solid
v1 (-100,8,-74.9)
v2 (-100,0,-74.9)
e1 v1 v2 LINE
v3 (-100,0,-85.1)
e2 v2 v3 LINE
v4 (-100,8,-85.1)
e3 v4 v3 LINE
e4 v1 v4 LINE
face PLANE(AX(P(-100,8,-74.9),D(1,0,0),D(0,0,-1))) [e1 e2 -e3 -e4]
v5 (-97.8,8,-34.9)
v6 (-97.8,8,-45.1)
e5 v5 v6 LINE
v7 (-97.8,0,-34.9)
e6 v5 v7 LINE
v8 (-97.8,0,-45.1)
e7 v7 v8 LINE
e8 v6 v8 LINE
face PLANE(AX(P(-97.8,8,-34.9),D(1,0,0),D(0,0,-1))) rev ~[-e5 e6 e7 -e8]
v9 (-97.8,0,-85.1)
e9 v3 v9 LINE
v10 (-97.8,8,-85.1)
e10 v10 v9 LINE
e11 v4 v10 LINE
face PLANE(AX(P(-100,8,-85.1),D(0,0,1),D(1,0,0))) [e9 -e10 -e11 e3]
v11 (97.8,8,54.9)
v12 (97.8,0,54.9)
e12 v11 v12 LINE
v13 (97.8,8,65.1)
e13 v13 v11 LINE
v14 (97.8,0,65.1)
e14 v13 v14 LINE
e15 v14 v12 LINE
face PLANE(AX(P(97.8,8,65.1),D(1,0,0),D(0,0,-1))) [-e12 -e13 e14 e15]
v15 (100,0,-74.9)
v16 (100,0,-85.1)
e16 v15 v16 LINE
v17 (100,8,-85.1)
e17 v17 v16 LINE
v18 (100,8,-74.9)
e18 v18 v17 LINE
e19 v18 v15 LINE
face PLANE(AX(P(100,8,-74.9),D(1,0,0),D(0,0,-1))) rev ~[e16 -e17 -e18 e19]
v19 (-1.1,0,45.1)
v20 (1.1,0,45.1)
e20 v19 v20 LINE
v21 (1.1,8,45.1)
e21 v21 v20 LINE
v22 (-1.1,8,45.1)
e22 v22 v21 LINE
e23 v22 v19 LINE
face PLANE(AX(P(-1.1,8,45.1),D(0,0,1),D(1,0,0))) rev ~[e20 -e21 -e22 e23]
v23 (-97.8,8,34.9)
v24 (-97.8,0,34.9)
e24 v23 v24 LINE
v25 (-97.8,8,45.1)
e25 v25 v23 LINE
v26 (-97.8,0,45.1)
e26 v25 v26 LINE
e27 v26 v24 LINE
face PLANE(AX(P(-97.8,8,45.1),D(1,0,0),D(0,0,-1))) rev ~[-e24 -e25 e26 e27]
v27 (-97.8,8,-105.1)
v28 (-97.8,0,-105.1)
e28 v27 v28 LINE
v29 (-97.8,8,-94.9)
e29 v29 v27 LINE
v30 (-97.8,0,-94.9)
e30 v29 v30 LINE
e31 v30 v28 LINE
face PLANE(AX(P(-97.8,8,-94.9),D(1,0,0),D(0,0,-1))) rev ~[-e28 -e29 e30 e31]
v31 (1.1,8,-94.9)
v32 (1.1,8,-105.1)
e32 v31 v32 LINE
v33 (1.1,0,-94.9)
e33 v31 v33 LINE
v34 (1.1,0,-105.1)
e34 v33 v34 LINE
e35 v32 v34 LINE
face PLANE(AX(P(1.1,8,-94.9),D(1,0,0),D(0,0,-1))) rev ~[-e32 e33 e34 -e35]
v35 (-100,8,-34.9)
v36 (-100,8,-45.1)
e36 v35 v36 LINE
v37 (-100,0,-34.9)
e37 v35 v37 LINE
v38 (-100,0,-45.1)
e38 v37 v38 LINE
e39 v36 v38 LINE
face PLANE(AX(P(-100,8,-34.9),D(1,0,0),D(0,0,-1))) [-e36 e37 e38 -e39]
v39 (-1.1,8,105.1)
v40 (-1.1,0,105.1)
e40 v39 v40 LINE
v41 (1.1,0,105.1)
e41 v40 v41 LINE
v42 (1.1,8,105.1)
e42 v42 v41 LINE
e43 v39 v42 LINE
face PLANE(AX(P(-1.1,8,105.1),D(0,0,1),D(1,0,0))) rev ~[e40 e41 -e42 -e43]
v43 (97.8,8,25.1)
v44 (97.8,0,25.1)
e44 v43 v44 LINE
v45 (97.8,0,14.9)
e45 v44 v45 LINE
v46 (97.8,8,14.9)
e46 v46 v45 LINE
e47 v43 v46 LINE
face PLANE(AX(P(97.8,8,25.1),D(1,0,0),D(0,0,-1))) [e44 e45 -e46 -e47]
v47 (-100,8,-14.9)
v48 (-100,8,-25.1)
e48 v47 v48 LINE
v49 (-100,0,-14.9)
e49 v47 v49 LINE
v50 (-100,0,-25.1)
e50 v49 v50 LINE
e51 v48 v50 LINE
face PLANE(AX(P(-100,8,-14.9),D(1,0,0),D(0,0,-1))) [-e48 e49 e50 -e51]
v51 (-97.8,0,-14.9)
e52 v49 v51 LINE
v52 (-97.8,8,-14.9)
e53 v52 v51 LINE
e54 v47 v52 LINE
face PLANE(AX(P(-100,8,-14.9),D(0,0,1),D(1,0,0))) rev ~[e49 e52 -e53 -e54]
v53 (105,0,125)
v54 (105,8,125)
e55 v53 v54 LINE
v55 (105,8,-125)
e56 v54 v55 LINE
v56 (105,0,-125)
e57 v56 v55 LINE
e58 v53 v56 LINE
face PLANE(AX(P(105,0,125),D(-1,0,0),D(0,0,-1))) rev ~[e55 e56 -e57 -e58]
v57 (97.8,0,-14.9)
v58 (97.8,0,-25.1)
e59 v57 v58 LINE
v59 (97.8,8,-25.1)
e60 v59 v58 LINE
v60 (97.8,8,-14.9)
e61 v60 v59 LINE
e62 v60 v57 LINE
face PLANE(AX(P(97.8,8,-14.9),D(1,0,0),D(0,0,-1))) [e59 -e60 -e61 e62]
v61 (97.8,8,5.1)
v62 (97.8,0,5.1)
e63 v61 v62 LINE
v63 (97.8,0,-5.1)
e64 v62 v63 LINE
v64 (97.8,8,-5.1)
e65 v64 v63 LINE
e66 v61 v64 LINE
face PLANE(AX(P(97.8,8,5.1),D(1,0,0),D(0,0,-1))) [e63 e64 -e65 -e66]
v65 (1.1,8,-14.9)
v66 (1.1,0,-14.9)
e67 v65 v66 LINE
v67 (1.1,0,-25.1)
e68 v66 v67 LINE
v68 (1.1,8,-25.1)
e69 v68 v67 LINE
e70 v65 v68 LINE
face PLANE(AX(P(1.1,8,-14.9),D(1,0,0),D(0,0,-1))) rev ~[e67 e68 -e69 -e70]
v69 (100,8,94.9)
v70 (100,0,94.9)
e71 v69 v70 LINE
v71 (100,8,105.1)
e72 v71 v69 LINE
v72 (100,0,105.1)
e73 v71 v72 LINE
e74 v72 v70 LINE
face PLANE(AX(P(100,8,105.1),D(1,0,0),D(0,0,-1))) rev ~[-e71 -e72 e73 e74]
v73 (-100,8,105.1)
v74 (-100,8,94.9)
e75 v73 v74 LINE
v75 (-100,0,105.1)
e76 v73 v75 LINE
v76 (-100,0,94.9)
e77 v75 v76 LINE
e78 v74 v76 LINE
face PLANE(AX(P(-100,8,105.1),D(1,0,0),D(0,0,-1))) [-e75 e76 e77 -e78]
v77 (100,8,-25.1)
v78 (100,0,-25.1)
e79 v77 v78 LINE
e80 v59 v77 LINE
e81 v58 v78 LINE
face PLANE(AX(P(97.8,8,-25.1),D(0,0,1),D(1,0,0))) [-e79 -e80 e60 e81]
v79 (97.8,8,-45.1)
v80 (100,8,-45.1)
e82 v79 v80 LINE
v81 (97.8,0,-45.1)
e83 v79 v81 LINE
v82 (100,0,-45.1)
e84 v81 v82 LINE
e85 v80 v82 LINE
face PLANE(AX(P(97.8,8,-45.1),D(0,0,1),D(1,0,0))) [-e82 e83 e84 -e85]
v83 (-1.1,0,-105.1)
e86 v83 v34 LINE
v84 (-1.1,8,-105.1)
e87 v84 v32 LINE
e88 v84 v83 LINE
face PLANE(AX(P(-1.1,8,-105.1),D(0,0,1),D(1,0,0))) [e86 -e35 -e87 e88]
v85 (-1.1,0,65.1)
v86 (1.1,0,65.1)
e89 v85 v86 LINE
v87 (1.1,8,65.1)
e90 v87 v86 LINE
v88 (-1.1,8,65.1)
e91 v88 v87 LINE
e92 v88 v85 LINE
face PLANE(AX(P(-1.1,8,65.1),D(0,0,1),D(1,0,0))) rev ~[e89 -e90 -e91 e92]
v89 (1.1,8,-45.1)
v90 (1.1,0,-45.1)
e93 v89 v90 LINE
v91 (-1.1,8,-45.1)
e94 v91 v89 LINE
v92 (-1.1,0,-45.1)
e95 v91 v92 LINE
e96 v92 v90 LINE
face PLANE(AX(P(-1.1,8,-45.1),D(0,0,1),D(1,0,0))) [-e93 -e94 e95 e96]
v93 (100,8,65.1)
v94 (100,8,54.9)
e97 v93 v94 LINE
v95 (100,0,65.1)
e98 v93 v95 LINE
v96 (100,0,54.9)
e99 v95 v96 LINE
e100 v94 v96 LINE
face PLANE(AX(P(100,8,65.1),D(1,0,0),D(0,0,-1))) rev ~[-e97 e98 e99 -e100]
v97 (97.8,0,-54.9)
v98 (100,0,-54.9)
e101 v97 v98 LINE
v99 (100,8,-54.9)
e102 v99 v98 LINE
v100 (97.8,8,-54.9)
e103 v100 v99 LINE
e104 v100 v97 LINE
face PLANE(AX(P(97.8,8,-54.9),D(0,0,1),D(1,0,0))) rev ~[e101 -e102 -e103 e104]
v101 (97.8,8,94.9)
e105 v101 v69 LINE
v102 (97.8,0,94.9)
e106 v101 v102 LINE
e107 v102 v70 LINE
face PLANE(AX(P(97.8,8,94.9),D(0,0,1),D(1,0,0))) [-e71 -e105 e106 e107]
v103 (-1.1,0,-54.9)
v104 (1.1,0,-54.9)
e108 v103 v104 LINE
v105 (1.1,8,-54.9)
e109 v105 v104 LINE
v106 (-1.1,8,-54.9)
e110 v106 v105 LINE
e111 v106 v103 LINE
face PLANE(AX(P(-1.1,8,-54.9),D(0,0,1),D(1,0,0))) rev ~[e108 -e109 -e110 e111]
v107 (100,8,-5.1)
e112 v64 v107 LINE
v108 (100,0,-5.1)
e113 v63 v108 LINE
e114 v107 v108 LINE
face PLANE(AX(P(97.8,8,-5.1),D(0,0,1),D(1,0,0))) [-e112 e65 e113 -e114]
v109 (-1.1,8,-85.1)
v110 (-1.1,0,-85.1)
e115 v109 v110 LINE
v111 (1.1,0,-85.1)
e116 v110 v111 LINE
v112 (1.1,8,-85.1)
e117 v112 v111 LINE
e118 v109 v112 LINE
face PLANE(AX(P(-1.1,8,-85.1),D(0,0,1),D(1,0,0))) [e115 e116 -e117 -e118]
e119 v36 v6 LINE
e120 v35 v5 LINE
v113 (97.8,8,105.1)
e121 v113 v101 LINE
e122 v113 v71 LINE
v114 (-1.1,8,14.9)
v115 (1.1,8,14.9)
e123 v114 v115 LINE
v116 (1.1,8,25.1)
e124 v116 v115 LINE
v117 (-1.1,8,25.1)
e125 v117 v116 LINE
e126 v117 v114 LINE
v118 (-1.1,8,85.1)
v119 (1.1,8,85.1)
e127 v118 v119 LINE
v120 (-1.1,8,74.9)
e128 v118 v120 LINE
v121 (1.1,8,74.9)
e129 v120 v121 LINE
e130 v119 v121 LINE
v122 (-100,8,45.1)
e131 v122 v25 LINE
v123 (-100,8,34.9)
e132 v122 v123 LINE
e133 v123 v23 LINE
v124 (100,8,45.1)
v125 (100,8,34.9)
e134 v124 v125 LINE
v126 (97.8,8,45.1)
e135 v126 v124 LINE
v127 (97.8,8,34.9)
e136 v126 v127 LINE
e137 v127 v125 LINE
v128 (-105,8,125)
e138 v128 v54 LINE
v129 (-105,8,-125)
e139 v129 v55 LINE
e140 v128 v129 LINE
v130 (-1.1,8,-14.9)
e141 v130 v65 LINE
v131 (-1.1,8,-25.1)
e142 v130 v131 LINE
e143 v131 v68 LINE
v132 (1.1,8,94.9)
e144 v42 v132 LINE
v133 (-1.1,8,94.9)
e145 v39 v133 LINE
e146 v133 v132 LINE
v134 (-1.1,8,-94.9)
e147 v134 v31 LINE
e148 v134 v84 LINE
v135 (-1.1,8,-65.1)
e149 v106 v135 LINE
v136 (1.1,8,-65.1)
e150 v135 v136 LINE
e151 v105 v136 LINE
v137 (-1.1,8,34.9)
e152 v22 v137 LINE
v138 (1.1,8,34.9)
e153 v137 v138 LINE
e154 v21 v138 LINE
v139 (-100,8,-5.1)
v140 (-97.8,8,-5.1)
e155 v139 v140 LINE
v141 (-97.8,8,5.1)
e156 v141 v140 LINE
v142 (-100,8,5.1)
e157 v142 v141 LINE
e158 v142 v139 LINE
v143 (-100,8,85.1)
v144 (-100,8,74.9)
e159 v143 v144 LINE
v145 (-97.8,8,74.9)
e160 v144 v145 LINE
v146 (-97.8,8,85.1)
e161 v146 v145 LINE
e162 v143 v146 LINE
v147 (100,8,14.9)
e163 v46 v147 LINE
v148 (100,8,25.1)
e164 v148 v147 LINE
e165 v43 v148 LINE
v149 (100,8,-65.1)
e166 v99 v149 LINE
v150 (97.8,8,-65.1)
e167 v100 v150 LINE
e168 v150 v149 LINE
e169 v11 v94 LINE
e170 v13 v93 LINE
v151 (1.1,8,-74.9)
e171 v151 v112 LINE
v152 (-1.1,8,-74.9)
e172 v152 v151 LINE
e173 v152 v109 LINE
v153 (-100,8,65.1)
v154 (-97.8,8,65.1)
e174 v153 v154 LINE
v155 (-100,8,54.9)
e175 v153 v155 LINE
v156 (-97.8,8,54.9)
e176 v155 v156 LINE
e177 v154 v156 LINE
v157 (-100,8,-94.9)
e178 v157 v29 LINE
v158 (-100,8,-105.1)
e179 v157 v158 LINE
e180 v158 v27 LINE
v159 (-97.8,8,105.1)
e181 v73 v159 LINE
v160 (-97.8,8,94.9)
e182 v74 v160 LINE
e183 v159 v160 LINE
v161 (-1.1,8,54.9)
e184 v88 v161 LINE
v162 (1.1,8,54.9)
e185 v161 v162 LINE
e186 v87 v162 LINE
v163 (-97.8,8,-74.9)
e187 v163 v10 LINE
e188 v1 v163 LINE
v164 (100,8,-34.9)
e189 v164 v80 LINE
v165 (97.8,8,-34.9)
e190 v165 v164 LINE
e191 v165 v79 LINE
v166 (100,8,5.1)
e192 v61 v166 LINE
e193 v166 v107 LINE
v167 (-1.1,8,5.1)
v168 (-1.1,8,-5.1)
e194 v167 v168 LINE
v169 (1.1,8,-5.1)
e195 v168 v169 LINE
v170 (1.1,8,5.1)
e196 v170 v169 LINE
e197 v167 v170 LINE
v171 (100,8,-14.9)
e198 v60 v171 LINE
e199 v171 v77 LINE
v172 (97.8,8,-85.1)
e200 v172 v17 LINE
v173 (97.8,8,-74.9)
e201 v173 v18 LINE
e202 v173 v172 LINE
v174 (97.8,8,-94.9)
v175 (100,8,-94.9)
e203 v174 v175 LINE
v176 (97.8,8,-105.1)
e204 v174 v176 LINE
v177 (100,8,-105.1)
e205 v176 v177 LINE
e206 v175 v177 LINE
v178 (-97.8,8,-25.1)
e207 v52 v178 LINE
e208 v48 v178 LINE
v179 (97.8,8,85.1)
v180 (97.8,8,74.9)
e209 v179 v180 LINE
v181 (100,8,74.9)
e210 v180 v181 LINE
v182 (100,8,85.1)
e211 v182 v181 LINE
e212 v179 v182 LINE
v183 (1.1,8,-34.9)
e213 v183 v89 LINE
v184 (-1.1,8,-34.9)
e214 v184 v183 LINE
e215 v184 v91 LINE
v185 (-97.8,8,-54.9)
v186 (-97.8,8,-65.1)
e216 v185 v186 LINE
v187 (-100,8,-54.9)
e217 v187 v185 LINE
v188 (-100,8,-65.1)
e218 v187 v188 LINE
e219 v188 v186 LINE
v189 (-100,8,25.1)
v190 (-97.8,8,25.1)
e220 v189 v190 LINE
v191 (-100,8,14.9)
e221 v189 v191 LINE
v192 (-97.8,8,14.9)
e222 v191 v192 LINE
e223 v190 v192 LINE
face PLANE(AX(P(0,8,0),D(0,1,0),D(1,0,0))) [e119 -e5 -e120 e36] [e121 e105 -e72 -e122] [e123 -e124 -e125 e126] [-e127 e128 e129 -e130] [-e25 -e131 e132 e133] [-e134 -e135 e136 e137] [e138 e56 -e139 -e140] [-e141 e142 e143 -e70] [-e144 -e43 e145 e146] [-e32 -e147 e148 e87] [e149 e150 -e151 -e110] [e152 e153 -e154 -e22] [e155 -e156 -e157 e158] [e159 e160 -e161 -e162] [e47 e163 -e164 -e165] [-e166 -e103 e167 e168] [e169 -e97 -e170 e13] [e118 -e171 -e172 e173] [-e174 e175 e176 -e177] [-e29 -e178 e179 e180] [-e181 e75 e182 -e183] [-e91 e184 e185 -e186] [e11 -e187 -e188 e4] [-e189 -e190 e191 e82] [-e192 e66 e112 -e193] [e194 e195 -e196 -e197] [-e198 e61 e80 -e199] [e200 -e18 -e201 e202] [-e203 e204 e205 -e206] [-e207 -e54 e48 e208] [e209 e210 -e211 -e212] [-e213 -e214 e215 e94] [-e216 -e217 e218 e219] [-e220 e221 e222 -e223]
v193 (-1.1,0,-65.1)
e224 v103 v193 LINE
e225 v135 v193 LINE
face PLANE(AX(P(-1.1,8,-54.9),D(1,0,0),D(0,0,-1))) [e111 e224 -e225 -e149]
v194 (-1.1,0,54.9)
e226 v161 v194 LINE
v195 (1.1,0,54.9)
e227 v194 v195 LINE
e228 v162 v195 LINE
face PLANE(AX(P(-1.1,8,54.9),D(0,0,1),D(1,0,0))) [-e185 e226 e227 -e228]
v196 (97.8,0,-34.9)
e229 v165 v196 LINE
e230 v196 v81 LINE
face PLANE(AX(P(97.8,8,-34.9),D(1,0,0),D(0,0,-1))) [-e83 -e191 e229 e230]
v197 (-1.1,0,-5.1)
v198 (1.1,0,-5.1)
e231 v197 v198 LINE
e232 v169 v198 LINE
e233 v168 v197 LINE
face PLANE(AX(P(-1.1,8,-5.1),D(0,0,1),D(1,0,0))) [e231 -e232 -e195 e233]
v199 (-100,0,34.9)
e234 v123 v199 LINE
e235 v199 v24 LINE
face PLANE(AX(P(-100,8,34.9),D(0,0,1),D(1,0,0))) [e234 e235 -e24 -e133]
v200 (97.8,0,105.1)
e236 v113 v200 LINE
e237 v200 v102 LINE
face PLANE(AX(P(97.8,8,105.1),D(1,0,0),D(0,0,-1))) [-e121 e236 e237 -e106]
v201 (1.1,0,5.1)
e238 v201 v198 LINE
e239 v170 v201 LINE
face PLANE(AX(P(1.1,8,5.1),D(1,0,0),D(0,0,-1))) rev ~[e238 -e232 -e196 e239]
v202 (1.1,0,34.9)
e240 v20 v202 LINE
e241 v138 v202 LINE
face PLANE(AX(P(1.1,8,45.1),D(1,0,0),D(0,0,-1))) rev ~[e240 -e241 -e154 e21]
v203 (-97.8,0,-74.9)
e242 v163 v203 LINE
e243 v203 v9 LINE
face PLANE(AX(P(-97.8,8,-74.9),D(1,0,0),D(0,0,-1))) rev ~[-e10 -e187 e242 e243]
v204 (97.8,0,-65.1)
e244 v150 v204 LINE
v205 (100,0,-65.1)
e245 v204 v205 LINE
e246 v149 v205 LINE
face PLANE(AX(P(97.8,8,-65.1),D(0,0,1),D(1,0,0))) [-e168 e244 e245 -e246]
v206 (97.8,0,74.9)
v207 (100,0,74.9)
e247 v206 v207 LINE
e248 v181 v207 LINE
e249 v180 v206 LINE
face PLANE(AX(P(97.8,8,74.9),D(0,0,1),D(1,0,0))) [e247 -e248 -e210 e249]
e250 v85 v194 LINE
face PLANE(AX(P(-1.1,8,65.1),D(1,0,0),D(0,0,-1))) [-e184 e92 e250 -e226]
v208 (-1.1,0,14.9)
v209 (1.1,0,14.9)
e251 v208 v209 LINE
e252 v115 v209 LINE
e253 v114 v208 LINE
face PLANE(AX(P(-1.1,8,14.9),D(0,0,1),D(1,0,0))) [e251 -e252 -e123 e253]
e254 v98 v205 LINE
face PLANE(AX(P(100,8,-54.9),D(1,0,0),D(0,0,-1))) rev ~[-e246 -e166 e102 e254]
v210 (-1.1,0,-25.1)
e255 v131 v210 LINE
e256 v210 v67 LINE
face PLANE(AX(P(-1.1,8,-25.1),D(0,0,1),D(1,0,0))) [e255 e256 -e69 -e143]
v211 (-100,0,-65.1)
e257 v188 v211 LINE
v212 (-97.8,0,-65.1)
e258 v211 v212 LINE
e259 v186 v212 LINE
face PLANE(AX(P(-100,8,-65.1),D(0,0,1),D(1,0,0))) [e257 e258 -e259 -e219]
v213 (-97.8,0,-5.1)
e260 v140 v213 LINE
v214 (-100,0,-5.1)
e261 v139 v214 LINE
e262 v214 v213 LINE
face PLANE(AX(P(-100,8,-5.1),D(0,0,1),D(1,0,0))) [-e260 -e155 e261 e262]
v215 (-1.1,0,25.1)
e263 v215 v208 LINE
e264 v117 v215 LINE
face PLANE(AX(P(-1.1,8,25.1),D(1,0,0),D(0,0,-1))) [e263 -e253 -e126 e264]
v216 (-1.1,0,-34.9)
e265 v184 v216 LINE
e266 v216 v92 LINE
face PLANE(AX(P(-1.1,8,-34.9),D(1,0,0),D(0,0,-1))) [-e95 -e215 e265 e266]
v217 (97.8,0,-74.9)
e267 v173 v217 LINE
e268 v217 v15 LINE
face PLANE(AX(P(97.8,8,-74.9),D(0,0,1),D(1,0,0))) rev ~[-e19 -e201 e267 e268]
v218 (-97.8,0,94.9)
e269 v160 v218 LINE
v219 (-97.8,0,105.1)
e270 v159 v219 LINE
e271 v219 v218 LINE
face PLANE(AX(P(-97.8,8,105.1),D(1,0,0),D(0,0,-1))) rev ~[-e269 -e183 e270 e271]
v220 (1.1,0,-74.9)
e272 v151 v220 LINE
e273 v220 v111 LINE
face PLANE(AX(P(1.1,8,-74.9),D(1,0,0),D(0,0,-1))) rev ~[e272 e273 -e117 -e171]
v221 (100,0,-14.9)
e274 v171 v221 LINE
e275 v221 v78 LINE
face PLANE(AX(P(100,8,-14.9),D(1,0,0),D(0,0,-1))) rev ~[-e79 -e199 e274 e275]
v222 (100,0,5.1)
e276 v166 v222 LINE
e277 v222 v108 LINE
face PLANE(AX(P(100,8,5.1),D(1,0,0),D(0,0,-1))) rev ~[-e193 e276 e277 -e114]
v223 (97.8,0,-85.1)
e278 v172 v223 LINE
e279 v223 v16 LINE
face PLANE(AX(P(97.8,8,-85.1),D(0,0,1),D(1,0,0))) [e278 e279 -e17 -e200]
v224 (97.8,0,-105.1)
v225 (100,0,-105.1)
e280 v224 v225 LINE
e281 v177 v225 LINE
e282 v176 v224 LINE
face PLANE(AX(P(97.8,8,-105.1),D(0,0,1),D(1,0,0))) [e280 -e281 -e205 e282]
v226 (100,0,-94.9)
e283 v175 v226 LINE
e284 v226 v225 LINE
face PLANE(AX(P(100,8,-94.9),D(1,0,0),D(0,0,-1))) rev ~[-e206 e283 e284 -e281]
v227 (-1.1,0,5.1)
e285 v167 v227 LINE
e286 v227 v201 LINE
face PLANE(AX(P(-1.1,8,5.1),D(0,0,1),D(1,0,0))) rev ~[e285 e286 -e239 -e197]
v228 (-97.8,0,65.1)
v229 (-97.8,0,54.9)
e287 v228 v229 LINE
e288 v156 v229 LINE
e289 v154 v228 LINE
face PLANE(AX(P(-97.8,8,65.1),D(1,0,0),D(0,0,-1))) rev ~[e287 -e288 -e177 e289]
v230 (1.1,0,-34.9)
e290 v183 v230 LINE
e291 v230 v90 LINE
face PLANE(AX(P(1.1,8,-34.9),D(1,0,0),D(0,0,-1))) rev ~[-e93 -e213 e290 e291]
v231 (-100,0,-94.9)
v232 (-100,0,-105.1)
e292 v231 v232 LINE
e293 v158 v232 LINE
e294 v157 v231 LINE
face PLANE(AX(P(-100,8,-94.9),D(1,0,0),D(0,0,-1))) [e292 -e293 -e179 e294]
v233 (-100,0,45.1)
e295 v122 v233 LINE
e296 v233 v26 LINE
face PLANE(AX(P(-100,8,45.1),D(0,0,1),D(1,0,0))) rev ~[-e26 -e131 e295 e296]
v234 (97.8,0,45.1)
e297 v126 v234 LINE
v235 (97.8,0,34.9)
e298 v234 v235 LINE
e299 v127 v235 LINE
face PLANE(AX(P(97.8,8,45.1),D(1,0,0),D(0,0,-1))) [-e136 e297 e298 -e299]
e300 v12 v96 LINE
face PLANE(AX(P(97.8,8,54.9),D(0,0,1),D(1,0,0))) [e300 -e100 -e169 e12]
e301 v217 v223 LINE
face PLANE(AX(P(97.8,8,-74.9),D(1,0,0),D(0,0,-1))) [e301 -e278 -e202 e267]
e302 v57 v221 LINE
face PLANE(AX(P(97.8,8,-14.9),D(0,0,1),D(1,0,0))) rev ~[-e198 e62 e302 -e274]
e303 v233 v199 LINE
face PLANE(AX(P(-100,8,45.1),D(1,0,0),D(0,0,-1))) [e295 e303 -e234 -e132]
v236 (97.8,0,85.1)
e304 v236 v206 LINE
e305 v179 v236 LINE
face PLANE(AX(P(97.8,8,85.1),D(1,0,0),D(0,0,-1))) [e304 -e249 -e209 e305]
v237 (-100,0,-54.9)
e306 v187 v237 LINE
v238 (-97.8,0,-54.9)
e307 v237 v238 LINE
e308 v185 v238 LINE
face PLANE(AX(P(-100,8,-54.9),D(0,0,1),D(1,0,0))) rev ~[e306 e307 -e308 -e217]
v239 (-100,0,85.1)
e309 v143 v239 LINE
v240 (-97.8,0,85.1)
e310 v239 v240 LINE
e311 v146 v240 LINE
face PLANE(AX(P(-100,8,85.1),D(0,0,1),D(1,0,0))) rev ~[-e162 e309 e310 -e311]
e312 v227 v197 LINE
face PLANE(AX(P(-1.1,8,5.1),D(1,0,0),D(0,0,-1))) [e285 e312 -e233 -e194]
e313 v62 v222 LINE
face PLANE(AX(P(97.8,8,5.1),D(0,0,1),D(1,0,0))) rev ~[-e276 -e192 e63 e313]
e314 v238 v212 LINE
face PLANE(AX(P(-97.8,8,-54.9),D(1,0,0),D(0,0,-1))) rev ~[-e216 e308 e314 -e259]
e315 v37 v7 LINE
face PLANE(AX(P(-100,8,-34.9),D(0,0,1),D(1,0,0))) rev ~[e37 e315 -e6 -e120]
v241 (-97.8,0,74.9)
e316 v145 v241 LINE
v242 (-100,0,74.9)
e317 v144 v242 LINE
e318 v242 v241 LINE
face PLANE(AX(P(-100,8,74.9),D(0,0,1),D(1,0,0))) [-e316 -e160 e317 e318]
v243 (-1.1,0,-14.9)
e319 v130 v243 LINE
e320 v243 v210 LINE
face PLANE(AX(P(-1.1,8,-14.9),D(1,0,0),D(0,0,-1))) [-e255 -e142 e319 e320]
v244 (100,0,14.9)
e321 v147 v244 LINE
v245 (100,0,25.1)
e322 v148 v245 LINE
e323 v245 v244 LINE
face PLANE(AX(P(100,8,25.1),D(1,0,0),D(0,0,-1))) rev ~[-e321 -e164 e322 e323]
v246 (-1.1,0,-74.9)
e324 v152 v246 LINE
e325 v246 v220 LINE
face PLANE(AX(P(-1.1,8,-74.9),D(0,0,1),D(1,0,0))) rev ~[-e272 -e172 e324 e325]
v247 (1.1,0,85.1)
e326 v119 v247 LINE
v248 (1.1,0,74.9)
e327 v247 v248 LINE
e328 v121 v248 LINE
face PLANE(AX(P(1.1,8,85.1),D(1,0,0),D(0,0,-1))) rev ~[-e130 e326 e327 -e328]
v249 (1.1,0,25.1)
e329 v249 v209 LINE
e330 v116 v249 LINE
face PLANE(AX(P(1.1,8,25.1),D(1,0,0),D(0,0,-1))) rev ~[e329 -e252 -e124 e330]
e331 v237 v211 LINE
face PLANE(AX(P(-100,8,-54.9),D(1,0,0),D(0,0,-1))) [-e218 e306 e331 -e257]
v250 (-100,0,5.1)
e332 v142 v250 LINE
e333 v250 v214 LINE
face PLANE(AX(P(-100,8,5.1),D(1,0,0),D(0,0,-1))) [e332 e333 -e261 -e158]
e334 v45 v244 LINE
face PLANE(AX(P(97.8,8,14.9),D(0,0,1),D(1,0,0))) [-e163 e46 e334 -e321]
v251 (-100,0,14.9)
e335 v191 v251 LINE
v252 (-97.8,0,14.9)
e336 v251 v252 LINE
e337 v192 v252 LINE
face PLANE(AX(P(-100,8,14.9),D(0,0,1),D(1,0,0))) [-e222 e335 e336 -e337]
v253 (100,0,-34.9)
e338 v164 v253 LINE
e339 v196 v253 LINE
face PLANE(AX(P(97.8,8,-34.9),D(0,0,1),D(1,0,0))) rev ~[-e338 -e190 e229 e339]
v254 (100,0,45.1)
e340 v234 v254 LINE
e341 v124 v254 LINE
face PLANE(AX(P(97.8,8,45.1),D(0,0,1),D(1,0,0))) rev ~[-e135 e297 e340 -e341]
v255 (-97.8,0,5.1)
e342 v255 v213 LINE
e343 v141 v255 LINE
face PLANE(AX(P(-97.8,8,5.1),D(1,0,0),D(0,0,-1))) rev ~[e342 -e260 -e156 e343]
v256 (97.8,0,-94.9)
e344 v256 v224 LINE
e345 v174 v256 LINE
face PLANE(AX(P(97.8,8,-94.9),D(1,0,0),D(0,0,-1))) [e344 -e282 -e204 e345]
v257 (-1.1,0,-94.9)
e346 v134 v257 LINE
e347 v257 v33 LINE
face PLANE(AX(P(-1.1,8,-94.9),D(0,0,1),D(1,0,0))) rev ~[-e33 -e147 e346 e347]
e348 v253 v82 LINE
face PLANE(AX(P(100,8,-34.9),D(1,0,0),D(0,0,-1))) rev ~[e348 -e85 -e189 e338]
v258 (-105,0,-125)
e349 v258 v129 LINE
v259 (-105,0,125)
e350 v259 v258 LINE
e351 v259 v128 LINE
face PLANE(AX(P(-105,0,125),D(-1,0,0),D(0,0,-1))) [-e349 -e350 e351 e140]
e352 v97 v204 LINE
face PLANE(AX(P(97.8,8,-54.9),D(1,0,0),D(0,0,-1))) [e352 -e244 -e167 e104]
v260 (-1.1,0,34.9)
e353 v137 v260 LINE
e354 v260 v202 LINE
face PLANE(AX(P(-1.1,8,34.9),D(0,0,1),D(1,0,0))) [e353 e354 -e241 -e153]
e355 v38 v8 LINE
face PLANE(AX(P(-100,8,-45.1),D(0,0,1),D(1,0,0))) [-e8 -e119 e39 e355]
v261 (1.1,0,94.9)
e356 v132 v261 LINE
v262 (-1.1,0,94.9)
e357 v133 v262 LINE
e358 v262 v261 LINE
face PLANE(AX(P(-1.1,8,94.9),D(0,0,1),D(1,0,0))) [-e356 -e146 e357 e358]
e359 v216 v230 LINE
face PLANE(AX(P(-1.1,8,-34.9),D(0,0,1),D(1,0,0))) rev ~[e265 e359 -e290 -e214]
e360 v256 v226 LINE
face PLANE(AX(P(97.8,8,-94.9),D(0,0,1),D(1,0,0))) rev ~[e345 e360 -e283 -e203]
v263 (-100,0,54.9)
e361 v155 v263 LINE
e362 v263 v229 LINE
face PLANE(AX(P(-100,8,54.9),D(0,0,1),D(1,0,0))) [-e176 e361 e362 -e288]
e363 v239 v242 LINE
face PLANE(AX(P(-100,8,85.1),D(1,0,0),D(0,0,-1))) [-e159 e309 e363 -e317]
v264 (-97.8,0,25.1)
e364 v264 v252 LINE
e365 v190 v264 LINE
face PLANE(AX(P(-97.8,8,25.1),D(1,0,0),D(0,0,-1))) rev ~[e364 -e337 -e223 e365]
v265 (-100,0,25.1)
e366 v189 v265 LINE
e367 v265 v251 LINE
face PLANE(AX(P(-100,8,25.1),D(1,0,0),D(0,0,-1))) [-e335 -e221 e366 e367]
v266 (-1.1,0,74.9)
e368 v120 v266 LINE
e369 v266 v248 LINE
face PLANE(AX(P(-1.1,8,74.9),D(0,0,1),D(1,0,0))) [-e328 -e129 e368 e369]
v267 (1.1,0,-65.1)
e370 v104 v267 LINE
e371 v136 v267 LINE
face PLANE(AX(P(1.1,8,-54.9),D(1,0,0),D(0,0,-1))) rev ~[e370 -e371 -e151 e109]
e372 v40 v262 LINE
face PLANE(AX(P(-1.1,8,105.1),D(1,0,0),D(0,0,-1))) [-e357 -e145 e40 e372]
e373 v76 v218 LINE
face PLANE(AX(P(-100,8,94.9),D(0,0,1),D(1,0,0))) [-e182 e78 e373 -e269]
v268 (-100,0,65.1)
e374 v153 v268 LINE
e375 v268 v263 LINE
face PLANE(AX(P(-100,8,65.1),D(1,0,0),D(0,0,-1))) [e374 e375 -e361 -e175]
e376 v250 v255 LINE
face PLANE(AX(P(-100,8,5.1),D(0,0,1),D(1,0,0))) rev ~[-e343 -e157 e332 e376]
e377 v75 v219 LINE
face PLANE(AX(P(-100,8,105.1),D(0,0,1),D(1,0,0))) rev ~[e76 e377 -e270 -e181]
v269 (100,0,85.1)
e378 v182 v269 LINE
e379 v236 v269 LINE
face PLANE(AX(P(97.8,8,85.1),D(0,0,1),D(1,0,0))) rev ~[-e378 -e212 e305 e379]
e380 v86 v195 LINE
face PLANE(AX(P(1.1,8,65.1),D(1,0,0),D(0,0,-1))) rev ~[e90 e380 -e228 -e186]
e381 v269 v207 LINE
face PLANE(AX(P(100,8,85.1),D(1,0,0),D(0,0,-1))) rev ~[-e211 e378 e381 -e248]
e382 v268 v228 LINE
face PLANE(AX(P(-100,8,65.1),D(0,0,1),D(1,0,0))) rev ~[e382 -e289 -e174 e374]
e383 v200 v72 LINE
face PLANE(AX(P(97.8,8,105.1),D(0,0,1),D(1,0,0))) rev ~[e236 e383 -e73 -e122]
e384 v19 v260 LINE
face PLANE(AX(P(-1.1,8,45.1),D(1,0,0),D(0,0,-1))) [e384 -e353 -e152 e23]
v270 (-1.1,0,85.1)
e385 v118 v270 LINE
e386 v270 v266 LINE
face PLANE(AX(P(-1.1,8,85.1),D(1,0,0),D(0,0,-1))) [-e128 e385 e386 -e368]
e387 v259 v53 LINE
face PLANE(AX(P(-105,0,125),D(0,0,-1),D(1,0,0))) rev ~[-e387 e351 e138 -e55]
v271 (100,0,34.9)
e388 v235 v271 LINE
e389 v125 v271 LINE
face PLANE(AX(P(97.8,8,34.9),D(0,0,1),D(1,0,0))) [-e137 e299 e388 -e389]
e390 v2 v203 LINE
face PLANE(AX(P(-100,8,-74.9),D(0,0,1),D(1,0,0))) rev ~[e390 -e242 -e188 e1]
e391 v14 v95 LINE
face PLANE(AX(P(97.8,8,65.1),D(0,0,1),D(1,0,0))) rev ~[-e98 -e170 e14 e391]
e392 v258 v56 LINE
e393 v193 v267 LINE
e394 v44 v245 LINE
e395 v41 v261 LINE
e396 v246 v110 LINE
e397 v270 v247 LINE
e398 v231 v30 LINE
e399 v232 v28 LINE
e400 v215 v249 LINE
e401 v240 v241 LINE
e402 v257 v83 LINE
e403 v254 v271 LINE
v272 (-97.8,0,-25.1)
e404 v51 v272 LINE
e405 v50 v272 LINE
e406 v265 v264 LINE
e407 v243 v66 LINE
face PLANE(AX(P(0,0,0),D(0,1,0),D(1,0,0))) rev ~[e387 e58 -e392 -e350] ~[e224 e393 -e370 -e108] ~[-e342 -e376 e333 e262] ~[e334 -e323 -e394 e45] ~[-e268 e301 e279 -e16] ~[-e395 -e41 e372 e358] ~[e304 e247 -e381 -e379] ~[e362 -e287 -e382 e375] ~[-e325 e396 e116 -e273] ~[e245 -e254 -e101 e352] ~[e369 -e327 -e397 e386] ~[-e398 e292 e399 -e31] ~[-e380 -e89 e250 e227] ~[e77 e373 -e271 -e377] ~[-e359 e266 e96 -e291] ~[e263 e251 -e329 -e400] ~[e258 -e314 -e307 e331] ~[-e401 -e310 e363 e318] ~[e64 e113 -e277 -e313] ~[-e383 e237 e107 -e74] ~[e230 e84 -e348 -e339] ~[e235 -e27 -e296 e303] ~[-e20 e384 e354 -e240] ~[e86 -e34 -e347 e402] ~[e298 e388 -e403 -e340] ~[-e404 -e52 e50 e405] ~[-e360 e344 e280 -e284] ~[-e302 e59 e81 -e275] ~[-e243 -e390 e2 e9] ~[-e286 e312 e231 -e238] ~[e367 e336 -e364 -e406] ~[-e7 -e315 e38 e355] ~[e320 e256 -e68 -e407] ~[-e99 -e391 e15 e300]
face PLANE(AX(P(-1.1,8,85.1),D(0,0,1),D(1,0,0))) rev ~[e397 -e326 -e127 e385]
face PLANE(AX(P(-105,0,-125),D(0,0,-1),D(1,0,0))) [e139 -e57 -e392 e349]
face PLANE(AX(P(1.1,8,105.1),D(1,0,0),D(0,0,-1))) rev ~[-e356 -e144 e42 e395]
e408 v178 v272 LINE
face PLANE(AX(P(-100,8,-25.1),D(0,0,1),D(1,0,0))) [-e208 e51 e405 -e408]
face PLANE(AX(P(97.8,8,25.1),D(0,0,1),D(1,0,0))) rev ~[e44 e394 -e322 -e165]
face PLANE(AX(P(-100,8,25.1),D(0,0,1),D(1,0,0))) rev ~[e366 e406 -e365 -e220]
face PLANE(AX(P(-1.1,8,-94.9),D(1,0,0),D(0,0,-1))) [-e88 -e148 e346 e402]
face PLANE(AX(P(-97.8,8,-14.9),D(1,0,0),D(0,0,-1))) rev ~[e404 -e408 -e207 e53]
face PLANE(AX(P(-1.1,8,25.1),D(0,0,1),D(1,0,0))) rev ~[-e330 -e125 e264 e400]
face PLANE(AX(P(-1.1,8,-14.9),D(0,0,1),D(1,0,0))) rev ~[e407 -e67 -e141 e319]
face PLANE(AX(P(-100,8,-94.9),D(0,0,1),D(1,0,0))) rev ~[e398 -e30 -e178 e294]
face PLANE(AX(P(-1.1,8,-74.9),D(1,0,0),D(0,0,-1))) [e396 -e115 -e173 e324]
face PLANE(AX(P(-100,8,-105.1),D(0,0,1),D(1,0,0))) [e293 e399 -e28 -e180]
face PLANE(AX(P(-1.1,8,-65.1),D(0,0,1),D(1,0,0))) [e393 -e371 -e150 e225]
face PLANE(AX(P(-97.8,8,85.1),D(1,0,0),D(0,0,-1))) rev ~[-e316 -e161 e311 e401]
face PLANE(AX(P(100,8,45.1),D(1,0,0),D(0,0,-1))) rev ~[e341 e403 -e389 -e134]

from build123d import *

# Parameters (mm, degrees)
SKETCH1_W           = 210
SKETCH1_H           = 250
BOSS_EXTRUDE1_DEPTH = 8
SKETCH_2_W          = 2.2
SKETCH_2_H          = 10.2
CUT_EXTRUDE_3_DEPTH = 164.444180074


with BuildPart() as part:
    # Sketch1 → Boss-Extrude1 (new body)
    with BuildSketch(Plane(origin=(0, 0, 0), x_dir=(1, 0, 0), z_dir=(0, 1, 0))):
        Rectangle(SKETCH1_W, SKETCH1_H)
    extrude(amount=BOSS_EXTRUDE1_DEPTH)

    # 草图2 → 切除-拉伸3 (cut, through all)
    with BuildSketch(Plane(origin=(0, 8, 0), x_dir=(1, 0, 0), z_dir=(0, 1, 0))):
        with Locations((0, -20)):
            Rectangle(SKETCH_2_W, SKETCH_2_H)
        Rectangle(SKETCH_2_W, SKETCH_2_H)
        with Locations((0, 20)):
            Rectangle(SKETCH_2_W, SKETCH_2_H)
        with Locations((0, 40)):
            Rectangle(SKETCH_2_W, SKETCH_2_H)
        with Locations((0, 60)):
            Rectangle(SKETCH_2_W, SKETCH_2_H)
        with Locations((0, 80)):
            Rectangle(SKETCH_2_W, SKETCH_2_H)
        with Locations((0, 100)):
            Rectangle(SKETCH_2_W, SKETCH_2_H)
        with Locations((0, -40)):
            Rectangle(SKETCH_2_W, SKETCH_2_H)
        with Locations((0, -60)):
            Rectangle(SKETCH_2_W, SKETCH_2_H)
        with Locations((0, -80)):
            Rectangle(SKETCH_2_W, SKETCH_2_H)
        with Locations((0, -100)):
            Rectangle(SKETCH_2_W, SKETCH_2_H)
        with Locations((98.9, 0)):
            Rectangle(SKETCH_2_W, SKETCH_2_H)
        with Locations((98.9, 20)):
            Rectangle(SKETCH_2_W, SKETCH_2_H)
        with Locations((-98.9, 0)):
            Rectangle(SKETCH_2_W, SKETCH_2_H)
        with Locations((98.9, 40)):
            Rectangle(SKETCH_2_W, SKETCH_2_H)
        with Locations((98.9, 60)):
            Rectangle(SKETCH_2_W, SKETCH_2_H)
        with Locations((98.9, 80)):
            Rectangle(SKETCH_2_W, SKETCH_2_H)
        with Locations((98.9, 100)):
            Rectangle(SKETCH_2_W, SKETCH_2_H)
        with Locations((98.9, -20)):
            Rectangle(SKETCH_2_W, SKETCH_2_H)
        with Locations((98.9, -40)):
            Rectangle(SKETCH_2_W, SKETCH_2_H)
        with Locations((98.9, -60)):
            Rectangle(SKETCH_2_W, SKETCH_2_H)
        with Locations((98.9, -80)):
            Rectangle(SKETCH_2_W, SKETCH_2_H)
        with Locations((98.9, -100)):
            Rectangle(SKETCH_2_W, SKETCH_2_H)
        with Locations((-98.9, 20)):
            Rectangle(SKETCH_2_W, SKETCH_2_H)
        with Locations((-98.9, 40)):
            Rectangle(SKETCH_2_W, SKETCH_2_H)
        with Locations((-98.9, 60)):
            Rectangle(SKETCH_2_W, SKETCH_2_H)
        with Locations((-98.9, 80)):
            Rectangle(SKETCH_2_W, SKETCH_2_H)
        with Locations((-98.9, 100)):
            Rectangle(SKETCH_2_W, SKETCH_2_H)
        with Locations((-98.9, -20)):
            Rectangle(SKETCH_2_W, SKETCH_2_H)
        with Locations((-98.9, -40)):
            Rectangle(SKETCH_2_W, SKETCH_2_H)
        with Locations((-98.9, -60)):
            Rectangle(SKETCH_2_W, SKETCH_2_H)
        with Locations((-98.9, -80)):
            Rectangle(SKETCH_2_W, SKETCH_2_H)
        with Locations((-98.9, -100)):
            Rectangle(SKETCH_2_W, SKETCH_2_H)
    extrude(amount=-CUT_EXTRUDE_3_DEPTH, mode=Mode.SUBTRACT)


solid = part.part
